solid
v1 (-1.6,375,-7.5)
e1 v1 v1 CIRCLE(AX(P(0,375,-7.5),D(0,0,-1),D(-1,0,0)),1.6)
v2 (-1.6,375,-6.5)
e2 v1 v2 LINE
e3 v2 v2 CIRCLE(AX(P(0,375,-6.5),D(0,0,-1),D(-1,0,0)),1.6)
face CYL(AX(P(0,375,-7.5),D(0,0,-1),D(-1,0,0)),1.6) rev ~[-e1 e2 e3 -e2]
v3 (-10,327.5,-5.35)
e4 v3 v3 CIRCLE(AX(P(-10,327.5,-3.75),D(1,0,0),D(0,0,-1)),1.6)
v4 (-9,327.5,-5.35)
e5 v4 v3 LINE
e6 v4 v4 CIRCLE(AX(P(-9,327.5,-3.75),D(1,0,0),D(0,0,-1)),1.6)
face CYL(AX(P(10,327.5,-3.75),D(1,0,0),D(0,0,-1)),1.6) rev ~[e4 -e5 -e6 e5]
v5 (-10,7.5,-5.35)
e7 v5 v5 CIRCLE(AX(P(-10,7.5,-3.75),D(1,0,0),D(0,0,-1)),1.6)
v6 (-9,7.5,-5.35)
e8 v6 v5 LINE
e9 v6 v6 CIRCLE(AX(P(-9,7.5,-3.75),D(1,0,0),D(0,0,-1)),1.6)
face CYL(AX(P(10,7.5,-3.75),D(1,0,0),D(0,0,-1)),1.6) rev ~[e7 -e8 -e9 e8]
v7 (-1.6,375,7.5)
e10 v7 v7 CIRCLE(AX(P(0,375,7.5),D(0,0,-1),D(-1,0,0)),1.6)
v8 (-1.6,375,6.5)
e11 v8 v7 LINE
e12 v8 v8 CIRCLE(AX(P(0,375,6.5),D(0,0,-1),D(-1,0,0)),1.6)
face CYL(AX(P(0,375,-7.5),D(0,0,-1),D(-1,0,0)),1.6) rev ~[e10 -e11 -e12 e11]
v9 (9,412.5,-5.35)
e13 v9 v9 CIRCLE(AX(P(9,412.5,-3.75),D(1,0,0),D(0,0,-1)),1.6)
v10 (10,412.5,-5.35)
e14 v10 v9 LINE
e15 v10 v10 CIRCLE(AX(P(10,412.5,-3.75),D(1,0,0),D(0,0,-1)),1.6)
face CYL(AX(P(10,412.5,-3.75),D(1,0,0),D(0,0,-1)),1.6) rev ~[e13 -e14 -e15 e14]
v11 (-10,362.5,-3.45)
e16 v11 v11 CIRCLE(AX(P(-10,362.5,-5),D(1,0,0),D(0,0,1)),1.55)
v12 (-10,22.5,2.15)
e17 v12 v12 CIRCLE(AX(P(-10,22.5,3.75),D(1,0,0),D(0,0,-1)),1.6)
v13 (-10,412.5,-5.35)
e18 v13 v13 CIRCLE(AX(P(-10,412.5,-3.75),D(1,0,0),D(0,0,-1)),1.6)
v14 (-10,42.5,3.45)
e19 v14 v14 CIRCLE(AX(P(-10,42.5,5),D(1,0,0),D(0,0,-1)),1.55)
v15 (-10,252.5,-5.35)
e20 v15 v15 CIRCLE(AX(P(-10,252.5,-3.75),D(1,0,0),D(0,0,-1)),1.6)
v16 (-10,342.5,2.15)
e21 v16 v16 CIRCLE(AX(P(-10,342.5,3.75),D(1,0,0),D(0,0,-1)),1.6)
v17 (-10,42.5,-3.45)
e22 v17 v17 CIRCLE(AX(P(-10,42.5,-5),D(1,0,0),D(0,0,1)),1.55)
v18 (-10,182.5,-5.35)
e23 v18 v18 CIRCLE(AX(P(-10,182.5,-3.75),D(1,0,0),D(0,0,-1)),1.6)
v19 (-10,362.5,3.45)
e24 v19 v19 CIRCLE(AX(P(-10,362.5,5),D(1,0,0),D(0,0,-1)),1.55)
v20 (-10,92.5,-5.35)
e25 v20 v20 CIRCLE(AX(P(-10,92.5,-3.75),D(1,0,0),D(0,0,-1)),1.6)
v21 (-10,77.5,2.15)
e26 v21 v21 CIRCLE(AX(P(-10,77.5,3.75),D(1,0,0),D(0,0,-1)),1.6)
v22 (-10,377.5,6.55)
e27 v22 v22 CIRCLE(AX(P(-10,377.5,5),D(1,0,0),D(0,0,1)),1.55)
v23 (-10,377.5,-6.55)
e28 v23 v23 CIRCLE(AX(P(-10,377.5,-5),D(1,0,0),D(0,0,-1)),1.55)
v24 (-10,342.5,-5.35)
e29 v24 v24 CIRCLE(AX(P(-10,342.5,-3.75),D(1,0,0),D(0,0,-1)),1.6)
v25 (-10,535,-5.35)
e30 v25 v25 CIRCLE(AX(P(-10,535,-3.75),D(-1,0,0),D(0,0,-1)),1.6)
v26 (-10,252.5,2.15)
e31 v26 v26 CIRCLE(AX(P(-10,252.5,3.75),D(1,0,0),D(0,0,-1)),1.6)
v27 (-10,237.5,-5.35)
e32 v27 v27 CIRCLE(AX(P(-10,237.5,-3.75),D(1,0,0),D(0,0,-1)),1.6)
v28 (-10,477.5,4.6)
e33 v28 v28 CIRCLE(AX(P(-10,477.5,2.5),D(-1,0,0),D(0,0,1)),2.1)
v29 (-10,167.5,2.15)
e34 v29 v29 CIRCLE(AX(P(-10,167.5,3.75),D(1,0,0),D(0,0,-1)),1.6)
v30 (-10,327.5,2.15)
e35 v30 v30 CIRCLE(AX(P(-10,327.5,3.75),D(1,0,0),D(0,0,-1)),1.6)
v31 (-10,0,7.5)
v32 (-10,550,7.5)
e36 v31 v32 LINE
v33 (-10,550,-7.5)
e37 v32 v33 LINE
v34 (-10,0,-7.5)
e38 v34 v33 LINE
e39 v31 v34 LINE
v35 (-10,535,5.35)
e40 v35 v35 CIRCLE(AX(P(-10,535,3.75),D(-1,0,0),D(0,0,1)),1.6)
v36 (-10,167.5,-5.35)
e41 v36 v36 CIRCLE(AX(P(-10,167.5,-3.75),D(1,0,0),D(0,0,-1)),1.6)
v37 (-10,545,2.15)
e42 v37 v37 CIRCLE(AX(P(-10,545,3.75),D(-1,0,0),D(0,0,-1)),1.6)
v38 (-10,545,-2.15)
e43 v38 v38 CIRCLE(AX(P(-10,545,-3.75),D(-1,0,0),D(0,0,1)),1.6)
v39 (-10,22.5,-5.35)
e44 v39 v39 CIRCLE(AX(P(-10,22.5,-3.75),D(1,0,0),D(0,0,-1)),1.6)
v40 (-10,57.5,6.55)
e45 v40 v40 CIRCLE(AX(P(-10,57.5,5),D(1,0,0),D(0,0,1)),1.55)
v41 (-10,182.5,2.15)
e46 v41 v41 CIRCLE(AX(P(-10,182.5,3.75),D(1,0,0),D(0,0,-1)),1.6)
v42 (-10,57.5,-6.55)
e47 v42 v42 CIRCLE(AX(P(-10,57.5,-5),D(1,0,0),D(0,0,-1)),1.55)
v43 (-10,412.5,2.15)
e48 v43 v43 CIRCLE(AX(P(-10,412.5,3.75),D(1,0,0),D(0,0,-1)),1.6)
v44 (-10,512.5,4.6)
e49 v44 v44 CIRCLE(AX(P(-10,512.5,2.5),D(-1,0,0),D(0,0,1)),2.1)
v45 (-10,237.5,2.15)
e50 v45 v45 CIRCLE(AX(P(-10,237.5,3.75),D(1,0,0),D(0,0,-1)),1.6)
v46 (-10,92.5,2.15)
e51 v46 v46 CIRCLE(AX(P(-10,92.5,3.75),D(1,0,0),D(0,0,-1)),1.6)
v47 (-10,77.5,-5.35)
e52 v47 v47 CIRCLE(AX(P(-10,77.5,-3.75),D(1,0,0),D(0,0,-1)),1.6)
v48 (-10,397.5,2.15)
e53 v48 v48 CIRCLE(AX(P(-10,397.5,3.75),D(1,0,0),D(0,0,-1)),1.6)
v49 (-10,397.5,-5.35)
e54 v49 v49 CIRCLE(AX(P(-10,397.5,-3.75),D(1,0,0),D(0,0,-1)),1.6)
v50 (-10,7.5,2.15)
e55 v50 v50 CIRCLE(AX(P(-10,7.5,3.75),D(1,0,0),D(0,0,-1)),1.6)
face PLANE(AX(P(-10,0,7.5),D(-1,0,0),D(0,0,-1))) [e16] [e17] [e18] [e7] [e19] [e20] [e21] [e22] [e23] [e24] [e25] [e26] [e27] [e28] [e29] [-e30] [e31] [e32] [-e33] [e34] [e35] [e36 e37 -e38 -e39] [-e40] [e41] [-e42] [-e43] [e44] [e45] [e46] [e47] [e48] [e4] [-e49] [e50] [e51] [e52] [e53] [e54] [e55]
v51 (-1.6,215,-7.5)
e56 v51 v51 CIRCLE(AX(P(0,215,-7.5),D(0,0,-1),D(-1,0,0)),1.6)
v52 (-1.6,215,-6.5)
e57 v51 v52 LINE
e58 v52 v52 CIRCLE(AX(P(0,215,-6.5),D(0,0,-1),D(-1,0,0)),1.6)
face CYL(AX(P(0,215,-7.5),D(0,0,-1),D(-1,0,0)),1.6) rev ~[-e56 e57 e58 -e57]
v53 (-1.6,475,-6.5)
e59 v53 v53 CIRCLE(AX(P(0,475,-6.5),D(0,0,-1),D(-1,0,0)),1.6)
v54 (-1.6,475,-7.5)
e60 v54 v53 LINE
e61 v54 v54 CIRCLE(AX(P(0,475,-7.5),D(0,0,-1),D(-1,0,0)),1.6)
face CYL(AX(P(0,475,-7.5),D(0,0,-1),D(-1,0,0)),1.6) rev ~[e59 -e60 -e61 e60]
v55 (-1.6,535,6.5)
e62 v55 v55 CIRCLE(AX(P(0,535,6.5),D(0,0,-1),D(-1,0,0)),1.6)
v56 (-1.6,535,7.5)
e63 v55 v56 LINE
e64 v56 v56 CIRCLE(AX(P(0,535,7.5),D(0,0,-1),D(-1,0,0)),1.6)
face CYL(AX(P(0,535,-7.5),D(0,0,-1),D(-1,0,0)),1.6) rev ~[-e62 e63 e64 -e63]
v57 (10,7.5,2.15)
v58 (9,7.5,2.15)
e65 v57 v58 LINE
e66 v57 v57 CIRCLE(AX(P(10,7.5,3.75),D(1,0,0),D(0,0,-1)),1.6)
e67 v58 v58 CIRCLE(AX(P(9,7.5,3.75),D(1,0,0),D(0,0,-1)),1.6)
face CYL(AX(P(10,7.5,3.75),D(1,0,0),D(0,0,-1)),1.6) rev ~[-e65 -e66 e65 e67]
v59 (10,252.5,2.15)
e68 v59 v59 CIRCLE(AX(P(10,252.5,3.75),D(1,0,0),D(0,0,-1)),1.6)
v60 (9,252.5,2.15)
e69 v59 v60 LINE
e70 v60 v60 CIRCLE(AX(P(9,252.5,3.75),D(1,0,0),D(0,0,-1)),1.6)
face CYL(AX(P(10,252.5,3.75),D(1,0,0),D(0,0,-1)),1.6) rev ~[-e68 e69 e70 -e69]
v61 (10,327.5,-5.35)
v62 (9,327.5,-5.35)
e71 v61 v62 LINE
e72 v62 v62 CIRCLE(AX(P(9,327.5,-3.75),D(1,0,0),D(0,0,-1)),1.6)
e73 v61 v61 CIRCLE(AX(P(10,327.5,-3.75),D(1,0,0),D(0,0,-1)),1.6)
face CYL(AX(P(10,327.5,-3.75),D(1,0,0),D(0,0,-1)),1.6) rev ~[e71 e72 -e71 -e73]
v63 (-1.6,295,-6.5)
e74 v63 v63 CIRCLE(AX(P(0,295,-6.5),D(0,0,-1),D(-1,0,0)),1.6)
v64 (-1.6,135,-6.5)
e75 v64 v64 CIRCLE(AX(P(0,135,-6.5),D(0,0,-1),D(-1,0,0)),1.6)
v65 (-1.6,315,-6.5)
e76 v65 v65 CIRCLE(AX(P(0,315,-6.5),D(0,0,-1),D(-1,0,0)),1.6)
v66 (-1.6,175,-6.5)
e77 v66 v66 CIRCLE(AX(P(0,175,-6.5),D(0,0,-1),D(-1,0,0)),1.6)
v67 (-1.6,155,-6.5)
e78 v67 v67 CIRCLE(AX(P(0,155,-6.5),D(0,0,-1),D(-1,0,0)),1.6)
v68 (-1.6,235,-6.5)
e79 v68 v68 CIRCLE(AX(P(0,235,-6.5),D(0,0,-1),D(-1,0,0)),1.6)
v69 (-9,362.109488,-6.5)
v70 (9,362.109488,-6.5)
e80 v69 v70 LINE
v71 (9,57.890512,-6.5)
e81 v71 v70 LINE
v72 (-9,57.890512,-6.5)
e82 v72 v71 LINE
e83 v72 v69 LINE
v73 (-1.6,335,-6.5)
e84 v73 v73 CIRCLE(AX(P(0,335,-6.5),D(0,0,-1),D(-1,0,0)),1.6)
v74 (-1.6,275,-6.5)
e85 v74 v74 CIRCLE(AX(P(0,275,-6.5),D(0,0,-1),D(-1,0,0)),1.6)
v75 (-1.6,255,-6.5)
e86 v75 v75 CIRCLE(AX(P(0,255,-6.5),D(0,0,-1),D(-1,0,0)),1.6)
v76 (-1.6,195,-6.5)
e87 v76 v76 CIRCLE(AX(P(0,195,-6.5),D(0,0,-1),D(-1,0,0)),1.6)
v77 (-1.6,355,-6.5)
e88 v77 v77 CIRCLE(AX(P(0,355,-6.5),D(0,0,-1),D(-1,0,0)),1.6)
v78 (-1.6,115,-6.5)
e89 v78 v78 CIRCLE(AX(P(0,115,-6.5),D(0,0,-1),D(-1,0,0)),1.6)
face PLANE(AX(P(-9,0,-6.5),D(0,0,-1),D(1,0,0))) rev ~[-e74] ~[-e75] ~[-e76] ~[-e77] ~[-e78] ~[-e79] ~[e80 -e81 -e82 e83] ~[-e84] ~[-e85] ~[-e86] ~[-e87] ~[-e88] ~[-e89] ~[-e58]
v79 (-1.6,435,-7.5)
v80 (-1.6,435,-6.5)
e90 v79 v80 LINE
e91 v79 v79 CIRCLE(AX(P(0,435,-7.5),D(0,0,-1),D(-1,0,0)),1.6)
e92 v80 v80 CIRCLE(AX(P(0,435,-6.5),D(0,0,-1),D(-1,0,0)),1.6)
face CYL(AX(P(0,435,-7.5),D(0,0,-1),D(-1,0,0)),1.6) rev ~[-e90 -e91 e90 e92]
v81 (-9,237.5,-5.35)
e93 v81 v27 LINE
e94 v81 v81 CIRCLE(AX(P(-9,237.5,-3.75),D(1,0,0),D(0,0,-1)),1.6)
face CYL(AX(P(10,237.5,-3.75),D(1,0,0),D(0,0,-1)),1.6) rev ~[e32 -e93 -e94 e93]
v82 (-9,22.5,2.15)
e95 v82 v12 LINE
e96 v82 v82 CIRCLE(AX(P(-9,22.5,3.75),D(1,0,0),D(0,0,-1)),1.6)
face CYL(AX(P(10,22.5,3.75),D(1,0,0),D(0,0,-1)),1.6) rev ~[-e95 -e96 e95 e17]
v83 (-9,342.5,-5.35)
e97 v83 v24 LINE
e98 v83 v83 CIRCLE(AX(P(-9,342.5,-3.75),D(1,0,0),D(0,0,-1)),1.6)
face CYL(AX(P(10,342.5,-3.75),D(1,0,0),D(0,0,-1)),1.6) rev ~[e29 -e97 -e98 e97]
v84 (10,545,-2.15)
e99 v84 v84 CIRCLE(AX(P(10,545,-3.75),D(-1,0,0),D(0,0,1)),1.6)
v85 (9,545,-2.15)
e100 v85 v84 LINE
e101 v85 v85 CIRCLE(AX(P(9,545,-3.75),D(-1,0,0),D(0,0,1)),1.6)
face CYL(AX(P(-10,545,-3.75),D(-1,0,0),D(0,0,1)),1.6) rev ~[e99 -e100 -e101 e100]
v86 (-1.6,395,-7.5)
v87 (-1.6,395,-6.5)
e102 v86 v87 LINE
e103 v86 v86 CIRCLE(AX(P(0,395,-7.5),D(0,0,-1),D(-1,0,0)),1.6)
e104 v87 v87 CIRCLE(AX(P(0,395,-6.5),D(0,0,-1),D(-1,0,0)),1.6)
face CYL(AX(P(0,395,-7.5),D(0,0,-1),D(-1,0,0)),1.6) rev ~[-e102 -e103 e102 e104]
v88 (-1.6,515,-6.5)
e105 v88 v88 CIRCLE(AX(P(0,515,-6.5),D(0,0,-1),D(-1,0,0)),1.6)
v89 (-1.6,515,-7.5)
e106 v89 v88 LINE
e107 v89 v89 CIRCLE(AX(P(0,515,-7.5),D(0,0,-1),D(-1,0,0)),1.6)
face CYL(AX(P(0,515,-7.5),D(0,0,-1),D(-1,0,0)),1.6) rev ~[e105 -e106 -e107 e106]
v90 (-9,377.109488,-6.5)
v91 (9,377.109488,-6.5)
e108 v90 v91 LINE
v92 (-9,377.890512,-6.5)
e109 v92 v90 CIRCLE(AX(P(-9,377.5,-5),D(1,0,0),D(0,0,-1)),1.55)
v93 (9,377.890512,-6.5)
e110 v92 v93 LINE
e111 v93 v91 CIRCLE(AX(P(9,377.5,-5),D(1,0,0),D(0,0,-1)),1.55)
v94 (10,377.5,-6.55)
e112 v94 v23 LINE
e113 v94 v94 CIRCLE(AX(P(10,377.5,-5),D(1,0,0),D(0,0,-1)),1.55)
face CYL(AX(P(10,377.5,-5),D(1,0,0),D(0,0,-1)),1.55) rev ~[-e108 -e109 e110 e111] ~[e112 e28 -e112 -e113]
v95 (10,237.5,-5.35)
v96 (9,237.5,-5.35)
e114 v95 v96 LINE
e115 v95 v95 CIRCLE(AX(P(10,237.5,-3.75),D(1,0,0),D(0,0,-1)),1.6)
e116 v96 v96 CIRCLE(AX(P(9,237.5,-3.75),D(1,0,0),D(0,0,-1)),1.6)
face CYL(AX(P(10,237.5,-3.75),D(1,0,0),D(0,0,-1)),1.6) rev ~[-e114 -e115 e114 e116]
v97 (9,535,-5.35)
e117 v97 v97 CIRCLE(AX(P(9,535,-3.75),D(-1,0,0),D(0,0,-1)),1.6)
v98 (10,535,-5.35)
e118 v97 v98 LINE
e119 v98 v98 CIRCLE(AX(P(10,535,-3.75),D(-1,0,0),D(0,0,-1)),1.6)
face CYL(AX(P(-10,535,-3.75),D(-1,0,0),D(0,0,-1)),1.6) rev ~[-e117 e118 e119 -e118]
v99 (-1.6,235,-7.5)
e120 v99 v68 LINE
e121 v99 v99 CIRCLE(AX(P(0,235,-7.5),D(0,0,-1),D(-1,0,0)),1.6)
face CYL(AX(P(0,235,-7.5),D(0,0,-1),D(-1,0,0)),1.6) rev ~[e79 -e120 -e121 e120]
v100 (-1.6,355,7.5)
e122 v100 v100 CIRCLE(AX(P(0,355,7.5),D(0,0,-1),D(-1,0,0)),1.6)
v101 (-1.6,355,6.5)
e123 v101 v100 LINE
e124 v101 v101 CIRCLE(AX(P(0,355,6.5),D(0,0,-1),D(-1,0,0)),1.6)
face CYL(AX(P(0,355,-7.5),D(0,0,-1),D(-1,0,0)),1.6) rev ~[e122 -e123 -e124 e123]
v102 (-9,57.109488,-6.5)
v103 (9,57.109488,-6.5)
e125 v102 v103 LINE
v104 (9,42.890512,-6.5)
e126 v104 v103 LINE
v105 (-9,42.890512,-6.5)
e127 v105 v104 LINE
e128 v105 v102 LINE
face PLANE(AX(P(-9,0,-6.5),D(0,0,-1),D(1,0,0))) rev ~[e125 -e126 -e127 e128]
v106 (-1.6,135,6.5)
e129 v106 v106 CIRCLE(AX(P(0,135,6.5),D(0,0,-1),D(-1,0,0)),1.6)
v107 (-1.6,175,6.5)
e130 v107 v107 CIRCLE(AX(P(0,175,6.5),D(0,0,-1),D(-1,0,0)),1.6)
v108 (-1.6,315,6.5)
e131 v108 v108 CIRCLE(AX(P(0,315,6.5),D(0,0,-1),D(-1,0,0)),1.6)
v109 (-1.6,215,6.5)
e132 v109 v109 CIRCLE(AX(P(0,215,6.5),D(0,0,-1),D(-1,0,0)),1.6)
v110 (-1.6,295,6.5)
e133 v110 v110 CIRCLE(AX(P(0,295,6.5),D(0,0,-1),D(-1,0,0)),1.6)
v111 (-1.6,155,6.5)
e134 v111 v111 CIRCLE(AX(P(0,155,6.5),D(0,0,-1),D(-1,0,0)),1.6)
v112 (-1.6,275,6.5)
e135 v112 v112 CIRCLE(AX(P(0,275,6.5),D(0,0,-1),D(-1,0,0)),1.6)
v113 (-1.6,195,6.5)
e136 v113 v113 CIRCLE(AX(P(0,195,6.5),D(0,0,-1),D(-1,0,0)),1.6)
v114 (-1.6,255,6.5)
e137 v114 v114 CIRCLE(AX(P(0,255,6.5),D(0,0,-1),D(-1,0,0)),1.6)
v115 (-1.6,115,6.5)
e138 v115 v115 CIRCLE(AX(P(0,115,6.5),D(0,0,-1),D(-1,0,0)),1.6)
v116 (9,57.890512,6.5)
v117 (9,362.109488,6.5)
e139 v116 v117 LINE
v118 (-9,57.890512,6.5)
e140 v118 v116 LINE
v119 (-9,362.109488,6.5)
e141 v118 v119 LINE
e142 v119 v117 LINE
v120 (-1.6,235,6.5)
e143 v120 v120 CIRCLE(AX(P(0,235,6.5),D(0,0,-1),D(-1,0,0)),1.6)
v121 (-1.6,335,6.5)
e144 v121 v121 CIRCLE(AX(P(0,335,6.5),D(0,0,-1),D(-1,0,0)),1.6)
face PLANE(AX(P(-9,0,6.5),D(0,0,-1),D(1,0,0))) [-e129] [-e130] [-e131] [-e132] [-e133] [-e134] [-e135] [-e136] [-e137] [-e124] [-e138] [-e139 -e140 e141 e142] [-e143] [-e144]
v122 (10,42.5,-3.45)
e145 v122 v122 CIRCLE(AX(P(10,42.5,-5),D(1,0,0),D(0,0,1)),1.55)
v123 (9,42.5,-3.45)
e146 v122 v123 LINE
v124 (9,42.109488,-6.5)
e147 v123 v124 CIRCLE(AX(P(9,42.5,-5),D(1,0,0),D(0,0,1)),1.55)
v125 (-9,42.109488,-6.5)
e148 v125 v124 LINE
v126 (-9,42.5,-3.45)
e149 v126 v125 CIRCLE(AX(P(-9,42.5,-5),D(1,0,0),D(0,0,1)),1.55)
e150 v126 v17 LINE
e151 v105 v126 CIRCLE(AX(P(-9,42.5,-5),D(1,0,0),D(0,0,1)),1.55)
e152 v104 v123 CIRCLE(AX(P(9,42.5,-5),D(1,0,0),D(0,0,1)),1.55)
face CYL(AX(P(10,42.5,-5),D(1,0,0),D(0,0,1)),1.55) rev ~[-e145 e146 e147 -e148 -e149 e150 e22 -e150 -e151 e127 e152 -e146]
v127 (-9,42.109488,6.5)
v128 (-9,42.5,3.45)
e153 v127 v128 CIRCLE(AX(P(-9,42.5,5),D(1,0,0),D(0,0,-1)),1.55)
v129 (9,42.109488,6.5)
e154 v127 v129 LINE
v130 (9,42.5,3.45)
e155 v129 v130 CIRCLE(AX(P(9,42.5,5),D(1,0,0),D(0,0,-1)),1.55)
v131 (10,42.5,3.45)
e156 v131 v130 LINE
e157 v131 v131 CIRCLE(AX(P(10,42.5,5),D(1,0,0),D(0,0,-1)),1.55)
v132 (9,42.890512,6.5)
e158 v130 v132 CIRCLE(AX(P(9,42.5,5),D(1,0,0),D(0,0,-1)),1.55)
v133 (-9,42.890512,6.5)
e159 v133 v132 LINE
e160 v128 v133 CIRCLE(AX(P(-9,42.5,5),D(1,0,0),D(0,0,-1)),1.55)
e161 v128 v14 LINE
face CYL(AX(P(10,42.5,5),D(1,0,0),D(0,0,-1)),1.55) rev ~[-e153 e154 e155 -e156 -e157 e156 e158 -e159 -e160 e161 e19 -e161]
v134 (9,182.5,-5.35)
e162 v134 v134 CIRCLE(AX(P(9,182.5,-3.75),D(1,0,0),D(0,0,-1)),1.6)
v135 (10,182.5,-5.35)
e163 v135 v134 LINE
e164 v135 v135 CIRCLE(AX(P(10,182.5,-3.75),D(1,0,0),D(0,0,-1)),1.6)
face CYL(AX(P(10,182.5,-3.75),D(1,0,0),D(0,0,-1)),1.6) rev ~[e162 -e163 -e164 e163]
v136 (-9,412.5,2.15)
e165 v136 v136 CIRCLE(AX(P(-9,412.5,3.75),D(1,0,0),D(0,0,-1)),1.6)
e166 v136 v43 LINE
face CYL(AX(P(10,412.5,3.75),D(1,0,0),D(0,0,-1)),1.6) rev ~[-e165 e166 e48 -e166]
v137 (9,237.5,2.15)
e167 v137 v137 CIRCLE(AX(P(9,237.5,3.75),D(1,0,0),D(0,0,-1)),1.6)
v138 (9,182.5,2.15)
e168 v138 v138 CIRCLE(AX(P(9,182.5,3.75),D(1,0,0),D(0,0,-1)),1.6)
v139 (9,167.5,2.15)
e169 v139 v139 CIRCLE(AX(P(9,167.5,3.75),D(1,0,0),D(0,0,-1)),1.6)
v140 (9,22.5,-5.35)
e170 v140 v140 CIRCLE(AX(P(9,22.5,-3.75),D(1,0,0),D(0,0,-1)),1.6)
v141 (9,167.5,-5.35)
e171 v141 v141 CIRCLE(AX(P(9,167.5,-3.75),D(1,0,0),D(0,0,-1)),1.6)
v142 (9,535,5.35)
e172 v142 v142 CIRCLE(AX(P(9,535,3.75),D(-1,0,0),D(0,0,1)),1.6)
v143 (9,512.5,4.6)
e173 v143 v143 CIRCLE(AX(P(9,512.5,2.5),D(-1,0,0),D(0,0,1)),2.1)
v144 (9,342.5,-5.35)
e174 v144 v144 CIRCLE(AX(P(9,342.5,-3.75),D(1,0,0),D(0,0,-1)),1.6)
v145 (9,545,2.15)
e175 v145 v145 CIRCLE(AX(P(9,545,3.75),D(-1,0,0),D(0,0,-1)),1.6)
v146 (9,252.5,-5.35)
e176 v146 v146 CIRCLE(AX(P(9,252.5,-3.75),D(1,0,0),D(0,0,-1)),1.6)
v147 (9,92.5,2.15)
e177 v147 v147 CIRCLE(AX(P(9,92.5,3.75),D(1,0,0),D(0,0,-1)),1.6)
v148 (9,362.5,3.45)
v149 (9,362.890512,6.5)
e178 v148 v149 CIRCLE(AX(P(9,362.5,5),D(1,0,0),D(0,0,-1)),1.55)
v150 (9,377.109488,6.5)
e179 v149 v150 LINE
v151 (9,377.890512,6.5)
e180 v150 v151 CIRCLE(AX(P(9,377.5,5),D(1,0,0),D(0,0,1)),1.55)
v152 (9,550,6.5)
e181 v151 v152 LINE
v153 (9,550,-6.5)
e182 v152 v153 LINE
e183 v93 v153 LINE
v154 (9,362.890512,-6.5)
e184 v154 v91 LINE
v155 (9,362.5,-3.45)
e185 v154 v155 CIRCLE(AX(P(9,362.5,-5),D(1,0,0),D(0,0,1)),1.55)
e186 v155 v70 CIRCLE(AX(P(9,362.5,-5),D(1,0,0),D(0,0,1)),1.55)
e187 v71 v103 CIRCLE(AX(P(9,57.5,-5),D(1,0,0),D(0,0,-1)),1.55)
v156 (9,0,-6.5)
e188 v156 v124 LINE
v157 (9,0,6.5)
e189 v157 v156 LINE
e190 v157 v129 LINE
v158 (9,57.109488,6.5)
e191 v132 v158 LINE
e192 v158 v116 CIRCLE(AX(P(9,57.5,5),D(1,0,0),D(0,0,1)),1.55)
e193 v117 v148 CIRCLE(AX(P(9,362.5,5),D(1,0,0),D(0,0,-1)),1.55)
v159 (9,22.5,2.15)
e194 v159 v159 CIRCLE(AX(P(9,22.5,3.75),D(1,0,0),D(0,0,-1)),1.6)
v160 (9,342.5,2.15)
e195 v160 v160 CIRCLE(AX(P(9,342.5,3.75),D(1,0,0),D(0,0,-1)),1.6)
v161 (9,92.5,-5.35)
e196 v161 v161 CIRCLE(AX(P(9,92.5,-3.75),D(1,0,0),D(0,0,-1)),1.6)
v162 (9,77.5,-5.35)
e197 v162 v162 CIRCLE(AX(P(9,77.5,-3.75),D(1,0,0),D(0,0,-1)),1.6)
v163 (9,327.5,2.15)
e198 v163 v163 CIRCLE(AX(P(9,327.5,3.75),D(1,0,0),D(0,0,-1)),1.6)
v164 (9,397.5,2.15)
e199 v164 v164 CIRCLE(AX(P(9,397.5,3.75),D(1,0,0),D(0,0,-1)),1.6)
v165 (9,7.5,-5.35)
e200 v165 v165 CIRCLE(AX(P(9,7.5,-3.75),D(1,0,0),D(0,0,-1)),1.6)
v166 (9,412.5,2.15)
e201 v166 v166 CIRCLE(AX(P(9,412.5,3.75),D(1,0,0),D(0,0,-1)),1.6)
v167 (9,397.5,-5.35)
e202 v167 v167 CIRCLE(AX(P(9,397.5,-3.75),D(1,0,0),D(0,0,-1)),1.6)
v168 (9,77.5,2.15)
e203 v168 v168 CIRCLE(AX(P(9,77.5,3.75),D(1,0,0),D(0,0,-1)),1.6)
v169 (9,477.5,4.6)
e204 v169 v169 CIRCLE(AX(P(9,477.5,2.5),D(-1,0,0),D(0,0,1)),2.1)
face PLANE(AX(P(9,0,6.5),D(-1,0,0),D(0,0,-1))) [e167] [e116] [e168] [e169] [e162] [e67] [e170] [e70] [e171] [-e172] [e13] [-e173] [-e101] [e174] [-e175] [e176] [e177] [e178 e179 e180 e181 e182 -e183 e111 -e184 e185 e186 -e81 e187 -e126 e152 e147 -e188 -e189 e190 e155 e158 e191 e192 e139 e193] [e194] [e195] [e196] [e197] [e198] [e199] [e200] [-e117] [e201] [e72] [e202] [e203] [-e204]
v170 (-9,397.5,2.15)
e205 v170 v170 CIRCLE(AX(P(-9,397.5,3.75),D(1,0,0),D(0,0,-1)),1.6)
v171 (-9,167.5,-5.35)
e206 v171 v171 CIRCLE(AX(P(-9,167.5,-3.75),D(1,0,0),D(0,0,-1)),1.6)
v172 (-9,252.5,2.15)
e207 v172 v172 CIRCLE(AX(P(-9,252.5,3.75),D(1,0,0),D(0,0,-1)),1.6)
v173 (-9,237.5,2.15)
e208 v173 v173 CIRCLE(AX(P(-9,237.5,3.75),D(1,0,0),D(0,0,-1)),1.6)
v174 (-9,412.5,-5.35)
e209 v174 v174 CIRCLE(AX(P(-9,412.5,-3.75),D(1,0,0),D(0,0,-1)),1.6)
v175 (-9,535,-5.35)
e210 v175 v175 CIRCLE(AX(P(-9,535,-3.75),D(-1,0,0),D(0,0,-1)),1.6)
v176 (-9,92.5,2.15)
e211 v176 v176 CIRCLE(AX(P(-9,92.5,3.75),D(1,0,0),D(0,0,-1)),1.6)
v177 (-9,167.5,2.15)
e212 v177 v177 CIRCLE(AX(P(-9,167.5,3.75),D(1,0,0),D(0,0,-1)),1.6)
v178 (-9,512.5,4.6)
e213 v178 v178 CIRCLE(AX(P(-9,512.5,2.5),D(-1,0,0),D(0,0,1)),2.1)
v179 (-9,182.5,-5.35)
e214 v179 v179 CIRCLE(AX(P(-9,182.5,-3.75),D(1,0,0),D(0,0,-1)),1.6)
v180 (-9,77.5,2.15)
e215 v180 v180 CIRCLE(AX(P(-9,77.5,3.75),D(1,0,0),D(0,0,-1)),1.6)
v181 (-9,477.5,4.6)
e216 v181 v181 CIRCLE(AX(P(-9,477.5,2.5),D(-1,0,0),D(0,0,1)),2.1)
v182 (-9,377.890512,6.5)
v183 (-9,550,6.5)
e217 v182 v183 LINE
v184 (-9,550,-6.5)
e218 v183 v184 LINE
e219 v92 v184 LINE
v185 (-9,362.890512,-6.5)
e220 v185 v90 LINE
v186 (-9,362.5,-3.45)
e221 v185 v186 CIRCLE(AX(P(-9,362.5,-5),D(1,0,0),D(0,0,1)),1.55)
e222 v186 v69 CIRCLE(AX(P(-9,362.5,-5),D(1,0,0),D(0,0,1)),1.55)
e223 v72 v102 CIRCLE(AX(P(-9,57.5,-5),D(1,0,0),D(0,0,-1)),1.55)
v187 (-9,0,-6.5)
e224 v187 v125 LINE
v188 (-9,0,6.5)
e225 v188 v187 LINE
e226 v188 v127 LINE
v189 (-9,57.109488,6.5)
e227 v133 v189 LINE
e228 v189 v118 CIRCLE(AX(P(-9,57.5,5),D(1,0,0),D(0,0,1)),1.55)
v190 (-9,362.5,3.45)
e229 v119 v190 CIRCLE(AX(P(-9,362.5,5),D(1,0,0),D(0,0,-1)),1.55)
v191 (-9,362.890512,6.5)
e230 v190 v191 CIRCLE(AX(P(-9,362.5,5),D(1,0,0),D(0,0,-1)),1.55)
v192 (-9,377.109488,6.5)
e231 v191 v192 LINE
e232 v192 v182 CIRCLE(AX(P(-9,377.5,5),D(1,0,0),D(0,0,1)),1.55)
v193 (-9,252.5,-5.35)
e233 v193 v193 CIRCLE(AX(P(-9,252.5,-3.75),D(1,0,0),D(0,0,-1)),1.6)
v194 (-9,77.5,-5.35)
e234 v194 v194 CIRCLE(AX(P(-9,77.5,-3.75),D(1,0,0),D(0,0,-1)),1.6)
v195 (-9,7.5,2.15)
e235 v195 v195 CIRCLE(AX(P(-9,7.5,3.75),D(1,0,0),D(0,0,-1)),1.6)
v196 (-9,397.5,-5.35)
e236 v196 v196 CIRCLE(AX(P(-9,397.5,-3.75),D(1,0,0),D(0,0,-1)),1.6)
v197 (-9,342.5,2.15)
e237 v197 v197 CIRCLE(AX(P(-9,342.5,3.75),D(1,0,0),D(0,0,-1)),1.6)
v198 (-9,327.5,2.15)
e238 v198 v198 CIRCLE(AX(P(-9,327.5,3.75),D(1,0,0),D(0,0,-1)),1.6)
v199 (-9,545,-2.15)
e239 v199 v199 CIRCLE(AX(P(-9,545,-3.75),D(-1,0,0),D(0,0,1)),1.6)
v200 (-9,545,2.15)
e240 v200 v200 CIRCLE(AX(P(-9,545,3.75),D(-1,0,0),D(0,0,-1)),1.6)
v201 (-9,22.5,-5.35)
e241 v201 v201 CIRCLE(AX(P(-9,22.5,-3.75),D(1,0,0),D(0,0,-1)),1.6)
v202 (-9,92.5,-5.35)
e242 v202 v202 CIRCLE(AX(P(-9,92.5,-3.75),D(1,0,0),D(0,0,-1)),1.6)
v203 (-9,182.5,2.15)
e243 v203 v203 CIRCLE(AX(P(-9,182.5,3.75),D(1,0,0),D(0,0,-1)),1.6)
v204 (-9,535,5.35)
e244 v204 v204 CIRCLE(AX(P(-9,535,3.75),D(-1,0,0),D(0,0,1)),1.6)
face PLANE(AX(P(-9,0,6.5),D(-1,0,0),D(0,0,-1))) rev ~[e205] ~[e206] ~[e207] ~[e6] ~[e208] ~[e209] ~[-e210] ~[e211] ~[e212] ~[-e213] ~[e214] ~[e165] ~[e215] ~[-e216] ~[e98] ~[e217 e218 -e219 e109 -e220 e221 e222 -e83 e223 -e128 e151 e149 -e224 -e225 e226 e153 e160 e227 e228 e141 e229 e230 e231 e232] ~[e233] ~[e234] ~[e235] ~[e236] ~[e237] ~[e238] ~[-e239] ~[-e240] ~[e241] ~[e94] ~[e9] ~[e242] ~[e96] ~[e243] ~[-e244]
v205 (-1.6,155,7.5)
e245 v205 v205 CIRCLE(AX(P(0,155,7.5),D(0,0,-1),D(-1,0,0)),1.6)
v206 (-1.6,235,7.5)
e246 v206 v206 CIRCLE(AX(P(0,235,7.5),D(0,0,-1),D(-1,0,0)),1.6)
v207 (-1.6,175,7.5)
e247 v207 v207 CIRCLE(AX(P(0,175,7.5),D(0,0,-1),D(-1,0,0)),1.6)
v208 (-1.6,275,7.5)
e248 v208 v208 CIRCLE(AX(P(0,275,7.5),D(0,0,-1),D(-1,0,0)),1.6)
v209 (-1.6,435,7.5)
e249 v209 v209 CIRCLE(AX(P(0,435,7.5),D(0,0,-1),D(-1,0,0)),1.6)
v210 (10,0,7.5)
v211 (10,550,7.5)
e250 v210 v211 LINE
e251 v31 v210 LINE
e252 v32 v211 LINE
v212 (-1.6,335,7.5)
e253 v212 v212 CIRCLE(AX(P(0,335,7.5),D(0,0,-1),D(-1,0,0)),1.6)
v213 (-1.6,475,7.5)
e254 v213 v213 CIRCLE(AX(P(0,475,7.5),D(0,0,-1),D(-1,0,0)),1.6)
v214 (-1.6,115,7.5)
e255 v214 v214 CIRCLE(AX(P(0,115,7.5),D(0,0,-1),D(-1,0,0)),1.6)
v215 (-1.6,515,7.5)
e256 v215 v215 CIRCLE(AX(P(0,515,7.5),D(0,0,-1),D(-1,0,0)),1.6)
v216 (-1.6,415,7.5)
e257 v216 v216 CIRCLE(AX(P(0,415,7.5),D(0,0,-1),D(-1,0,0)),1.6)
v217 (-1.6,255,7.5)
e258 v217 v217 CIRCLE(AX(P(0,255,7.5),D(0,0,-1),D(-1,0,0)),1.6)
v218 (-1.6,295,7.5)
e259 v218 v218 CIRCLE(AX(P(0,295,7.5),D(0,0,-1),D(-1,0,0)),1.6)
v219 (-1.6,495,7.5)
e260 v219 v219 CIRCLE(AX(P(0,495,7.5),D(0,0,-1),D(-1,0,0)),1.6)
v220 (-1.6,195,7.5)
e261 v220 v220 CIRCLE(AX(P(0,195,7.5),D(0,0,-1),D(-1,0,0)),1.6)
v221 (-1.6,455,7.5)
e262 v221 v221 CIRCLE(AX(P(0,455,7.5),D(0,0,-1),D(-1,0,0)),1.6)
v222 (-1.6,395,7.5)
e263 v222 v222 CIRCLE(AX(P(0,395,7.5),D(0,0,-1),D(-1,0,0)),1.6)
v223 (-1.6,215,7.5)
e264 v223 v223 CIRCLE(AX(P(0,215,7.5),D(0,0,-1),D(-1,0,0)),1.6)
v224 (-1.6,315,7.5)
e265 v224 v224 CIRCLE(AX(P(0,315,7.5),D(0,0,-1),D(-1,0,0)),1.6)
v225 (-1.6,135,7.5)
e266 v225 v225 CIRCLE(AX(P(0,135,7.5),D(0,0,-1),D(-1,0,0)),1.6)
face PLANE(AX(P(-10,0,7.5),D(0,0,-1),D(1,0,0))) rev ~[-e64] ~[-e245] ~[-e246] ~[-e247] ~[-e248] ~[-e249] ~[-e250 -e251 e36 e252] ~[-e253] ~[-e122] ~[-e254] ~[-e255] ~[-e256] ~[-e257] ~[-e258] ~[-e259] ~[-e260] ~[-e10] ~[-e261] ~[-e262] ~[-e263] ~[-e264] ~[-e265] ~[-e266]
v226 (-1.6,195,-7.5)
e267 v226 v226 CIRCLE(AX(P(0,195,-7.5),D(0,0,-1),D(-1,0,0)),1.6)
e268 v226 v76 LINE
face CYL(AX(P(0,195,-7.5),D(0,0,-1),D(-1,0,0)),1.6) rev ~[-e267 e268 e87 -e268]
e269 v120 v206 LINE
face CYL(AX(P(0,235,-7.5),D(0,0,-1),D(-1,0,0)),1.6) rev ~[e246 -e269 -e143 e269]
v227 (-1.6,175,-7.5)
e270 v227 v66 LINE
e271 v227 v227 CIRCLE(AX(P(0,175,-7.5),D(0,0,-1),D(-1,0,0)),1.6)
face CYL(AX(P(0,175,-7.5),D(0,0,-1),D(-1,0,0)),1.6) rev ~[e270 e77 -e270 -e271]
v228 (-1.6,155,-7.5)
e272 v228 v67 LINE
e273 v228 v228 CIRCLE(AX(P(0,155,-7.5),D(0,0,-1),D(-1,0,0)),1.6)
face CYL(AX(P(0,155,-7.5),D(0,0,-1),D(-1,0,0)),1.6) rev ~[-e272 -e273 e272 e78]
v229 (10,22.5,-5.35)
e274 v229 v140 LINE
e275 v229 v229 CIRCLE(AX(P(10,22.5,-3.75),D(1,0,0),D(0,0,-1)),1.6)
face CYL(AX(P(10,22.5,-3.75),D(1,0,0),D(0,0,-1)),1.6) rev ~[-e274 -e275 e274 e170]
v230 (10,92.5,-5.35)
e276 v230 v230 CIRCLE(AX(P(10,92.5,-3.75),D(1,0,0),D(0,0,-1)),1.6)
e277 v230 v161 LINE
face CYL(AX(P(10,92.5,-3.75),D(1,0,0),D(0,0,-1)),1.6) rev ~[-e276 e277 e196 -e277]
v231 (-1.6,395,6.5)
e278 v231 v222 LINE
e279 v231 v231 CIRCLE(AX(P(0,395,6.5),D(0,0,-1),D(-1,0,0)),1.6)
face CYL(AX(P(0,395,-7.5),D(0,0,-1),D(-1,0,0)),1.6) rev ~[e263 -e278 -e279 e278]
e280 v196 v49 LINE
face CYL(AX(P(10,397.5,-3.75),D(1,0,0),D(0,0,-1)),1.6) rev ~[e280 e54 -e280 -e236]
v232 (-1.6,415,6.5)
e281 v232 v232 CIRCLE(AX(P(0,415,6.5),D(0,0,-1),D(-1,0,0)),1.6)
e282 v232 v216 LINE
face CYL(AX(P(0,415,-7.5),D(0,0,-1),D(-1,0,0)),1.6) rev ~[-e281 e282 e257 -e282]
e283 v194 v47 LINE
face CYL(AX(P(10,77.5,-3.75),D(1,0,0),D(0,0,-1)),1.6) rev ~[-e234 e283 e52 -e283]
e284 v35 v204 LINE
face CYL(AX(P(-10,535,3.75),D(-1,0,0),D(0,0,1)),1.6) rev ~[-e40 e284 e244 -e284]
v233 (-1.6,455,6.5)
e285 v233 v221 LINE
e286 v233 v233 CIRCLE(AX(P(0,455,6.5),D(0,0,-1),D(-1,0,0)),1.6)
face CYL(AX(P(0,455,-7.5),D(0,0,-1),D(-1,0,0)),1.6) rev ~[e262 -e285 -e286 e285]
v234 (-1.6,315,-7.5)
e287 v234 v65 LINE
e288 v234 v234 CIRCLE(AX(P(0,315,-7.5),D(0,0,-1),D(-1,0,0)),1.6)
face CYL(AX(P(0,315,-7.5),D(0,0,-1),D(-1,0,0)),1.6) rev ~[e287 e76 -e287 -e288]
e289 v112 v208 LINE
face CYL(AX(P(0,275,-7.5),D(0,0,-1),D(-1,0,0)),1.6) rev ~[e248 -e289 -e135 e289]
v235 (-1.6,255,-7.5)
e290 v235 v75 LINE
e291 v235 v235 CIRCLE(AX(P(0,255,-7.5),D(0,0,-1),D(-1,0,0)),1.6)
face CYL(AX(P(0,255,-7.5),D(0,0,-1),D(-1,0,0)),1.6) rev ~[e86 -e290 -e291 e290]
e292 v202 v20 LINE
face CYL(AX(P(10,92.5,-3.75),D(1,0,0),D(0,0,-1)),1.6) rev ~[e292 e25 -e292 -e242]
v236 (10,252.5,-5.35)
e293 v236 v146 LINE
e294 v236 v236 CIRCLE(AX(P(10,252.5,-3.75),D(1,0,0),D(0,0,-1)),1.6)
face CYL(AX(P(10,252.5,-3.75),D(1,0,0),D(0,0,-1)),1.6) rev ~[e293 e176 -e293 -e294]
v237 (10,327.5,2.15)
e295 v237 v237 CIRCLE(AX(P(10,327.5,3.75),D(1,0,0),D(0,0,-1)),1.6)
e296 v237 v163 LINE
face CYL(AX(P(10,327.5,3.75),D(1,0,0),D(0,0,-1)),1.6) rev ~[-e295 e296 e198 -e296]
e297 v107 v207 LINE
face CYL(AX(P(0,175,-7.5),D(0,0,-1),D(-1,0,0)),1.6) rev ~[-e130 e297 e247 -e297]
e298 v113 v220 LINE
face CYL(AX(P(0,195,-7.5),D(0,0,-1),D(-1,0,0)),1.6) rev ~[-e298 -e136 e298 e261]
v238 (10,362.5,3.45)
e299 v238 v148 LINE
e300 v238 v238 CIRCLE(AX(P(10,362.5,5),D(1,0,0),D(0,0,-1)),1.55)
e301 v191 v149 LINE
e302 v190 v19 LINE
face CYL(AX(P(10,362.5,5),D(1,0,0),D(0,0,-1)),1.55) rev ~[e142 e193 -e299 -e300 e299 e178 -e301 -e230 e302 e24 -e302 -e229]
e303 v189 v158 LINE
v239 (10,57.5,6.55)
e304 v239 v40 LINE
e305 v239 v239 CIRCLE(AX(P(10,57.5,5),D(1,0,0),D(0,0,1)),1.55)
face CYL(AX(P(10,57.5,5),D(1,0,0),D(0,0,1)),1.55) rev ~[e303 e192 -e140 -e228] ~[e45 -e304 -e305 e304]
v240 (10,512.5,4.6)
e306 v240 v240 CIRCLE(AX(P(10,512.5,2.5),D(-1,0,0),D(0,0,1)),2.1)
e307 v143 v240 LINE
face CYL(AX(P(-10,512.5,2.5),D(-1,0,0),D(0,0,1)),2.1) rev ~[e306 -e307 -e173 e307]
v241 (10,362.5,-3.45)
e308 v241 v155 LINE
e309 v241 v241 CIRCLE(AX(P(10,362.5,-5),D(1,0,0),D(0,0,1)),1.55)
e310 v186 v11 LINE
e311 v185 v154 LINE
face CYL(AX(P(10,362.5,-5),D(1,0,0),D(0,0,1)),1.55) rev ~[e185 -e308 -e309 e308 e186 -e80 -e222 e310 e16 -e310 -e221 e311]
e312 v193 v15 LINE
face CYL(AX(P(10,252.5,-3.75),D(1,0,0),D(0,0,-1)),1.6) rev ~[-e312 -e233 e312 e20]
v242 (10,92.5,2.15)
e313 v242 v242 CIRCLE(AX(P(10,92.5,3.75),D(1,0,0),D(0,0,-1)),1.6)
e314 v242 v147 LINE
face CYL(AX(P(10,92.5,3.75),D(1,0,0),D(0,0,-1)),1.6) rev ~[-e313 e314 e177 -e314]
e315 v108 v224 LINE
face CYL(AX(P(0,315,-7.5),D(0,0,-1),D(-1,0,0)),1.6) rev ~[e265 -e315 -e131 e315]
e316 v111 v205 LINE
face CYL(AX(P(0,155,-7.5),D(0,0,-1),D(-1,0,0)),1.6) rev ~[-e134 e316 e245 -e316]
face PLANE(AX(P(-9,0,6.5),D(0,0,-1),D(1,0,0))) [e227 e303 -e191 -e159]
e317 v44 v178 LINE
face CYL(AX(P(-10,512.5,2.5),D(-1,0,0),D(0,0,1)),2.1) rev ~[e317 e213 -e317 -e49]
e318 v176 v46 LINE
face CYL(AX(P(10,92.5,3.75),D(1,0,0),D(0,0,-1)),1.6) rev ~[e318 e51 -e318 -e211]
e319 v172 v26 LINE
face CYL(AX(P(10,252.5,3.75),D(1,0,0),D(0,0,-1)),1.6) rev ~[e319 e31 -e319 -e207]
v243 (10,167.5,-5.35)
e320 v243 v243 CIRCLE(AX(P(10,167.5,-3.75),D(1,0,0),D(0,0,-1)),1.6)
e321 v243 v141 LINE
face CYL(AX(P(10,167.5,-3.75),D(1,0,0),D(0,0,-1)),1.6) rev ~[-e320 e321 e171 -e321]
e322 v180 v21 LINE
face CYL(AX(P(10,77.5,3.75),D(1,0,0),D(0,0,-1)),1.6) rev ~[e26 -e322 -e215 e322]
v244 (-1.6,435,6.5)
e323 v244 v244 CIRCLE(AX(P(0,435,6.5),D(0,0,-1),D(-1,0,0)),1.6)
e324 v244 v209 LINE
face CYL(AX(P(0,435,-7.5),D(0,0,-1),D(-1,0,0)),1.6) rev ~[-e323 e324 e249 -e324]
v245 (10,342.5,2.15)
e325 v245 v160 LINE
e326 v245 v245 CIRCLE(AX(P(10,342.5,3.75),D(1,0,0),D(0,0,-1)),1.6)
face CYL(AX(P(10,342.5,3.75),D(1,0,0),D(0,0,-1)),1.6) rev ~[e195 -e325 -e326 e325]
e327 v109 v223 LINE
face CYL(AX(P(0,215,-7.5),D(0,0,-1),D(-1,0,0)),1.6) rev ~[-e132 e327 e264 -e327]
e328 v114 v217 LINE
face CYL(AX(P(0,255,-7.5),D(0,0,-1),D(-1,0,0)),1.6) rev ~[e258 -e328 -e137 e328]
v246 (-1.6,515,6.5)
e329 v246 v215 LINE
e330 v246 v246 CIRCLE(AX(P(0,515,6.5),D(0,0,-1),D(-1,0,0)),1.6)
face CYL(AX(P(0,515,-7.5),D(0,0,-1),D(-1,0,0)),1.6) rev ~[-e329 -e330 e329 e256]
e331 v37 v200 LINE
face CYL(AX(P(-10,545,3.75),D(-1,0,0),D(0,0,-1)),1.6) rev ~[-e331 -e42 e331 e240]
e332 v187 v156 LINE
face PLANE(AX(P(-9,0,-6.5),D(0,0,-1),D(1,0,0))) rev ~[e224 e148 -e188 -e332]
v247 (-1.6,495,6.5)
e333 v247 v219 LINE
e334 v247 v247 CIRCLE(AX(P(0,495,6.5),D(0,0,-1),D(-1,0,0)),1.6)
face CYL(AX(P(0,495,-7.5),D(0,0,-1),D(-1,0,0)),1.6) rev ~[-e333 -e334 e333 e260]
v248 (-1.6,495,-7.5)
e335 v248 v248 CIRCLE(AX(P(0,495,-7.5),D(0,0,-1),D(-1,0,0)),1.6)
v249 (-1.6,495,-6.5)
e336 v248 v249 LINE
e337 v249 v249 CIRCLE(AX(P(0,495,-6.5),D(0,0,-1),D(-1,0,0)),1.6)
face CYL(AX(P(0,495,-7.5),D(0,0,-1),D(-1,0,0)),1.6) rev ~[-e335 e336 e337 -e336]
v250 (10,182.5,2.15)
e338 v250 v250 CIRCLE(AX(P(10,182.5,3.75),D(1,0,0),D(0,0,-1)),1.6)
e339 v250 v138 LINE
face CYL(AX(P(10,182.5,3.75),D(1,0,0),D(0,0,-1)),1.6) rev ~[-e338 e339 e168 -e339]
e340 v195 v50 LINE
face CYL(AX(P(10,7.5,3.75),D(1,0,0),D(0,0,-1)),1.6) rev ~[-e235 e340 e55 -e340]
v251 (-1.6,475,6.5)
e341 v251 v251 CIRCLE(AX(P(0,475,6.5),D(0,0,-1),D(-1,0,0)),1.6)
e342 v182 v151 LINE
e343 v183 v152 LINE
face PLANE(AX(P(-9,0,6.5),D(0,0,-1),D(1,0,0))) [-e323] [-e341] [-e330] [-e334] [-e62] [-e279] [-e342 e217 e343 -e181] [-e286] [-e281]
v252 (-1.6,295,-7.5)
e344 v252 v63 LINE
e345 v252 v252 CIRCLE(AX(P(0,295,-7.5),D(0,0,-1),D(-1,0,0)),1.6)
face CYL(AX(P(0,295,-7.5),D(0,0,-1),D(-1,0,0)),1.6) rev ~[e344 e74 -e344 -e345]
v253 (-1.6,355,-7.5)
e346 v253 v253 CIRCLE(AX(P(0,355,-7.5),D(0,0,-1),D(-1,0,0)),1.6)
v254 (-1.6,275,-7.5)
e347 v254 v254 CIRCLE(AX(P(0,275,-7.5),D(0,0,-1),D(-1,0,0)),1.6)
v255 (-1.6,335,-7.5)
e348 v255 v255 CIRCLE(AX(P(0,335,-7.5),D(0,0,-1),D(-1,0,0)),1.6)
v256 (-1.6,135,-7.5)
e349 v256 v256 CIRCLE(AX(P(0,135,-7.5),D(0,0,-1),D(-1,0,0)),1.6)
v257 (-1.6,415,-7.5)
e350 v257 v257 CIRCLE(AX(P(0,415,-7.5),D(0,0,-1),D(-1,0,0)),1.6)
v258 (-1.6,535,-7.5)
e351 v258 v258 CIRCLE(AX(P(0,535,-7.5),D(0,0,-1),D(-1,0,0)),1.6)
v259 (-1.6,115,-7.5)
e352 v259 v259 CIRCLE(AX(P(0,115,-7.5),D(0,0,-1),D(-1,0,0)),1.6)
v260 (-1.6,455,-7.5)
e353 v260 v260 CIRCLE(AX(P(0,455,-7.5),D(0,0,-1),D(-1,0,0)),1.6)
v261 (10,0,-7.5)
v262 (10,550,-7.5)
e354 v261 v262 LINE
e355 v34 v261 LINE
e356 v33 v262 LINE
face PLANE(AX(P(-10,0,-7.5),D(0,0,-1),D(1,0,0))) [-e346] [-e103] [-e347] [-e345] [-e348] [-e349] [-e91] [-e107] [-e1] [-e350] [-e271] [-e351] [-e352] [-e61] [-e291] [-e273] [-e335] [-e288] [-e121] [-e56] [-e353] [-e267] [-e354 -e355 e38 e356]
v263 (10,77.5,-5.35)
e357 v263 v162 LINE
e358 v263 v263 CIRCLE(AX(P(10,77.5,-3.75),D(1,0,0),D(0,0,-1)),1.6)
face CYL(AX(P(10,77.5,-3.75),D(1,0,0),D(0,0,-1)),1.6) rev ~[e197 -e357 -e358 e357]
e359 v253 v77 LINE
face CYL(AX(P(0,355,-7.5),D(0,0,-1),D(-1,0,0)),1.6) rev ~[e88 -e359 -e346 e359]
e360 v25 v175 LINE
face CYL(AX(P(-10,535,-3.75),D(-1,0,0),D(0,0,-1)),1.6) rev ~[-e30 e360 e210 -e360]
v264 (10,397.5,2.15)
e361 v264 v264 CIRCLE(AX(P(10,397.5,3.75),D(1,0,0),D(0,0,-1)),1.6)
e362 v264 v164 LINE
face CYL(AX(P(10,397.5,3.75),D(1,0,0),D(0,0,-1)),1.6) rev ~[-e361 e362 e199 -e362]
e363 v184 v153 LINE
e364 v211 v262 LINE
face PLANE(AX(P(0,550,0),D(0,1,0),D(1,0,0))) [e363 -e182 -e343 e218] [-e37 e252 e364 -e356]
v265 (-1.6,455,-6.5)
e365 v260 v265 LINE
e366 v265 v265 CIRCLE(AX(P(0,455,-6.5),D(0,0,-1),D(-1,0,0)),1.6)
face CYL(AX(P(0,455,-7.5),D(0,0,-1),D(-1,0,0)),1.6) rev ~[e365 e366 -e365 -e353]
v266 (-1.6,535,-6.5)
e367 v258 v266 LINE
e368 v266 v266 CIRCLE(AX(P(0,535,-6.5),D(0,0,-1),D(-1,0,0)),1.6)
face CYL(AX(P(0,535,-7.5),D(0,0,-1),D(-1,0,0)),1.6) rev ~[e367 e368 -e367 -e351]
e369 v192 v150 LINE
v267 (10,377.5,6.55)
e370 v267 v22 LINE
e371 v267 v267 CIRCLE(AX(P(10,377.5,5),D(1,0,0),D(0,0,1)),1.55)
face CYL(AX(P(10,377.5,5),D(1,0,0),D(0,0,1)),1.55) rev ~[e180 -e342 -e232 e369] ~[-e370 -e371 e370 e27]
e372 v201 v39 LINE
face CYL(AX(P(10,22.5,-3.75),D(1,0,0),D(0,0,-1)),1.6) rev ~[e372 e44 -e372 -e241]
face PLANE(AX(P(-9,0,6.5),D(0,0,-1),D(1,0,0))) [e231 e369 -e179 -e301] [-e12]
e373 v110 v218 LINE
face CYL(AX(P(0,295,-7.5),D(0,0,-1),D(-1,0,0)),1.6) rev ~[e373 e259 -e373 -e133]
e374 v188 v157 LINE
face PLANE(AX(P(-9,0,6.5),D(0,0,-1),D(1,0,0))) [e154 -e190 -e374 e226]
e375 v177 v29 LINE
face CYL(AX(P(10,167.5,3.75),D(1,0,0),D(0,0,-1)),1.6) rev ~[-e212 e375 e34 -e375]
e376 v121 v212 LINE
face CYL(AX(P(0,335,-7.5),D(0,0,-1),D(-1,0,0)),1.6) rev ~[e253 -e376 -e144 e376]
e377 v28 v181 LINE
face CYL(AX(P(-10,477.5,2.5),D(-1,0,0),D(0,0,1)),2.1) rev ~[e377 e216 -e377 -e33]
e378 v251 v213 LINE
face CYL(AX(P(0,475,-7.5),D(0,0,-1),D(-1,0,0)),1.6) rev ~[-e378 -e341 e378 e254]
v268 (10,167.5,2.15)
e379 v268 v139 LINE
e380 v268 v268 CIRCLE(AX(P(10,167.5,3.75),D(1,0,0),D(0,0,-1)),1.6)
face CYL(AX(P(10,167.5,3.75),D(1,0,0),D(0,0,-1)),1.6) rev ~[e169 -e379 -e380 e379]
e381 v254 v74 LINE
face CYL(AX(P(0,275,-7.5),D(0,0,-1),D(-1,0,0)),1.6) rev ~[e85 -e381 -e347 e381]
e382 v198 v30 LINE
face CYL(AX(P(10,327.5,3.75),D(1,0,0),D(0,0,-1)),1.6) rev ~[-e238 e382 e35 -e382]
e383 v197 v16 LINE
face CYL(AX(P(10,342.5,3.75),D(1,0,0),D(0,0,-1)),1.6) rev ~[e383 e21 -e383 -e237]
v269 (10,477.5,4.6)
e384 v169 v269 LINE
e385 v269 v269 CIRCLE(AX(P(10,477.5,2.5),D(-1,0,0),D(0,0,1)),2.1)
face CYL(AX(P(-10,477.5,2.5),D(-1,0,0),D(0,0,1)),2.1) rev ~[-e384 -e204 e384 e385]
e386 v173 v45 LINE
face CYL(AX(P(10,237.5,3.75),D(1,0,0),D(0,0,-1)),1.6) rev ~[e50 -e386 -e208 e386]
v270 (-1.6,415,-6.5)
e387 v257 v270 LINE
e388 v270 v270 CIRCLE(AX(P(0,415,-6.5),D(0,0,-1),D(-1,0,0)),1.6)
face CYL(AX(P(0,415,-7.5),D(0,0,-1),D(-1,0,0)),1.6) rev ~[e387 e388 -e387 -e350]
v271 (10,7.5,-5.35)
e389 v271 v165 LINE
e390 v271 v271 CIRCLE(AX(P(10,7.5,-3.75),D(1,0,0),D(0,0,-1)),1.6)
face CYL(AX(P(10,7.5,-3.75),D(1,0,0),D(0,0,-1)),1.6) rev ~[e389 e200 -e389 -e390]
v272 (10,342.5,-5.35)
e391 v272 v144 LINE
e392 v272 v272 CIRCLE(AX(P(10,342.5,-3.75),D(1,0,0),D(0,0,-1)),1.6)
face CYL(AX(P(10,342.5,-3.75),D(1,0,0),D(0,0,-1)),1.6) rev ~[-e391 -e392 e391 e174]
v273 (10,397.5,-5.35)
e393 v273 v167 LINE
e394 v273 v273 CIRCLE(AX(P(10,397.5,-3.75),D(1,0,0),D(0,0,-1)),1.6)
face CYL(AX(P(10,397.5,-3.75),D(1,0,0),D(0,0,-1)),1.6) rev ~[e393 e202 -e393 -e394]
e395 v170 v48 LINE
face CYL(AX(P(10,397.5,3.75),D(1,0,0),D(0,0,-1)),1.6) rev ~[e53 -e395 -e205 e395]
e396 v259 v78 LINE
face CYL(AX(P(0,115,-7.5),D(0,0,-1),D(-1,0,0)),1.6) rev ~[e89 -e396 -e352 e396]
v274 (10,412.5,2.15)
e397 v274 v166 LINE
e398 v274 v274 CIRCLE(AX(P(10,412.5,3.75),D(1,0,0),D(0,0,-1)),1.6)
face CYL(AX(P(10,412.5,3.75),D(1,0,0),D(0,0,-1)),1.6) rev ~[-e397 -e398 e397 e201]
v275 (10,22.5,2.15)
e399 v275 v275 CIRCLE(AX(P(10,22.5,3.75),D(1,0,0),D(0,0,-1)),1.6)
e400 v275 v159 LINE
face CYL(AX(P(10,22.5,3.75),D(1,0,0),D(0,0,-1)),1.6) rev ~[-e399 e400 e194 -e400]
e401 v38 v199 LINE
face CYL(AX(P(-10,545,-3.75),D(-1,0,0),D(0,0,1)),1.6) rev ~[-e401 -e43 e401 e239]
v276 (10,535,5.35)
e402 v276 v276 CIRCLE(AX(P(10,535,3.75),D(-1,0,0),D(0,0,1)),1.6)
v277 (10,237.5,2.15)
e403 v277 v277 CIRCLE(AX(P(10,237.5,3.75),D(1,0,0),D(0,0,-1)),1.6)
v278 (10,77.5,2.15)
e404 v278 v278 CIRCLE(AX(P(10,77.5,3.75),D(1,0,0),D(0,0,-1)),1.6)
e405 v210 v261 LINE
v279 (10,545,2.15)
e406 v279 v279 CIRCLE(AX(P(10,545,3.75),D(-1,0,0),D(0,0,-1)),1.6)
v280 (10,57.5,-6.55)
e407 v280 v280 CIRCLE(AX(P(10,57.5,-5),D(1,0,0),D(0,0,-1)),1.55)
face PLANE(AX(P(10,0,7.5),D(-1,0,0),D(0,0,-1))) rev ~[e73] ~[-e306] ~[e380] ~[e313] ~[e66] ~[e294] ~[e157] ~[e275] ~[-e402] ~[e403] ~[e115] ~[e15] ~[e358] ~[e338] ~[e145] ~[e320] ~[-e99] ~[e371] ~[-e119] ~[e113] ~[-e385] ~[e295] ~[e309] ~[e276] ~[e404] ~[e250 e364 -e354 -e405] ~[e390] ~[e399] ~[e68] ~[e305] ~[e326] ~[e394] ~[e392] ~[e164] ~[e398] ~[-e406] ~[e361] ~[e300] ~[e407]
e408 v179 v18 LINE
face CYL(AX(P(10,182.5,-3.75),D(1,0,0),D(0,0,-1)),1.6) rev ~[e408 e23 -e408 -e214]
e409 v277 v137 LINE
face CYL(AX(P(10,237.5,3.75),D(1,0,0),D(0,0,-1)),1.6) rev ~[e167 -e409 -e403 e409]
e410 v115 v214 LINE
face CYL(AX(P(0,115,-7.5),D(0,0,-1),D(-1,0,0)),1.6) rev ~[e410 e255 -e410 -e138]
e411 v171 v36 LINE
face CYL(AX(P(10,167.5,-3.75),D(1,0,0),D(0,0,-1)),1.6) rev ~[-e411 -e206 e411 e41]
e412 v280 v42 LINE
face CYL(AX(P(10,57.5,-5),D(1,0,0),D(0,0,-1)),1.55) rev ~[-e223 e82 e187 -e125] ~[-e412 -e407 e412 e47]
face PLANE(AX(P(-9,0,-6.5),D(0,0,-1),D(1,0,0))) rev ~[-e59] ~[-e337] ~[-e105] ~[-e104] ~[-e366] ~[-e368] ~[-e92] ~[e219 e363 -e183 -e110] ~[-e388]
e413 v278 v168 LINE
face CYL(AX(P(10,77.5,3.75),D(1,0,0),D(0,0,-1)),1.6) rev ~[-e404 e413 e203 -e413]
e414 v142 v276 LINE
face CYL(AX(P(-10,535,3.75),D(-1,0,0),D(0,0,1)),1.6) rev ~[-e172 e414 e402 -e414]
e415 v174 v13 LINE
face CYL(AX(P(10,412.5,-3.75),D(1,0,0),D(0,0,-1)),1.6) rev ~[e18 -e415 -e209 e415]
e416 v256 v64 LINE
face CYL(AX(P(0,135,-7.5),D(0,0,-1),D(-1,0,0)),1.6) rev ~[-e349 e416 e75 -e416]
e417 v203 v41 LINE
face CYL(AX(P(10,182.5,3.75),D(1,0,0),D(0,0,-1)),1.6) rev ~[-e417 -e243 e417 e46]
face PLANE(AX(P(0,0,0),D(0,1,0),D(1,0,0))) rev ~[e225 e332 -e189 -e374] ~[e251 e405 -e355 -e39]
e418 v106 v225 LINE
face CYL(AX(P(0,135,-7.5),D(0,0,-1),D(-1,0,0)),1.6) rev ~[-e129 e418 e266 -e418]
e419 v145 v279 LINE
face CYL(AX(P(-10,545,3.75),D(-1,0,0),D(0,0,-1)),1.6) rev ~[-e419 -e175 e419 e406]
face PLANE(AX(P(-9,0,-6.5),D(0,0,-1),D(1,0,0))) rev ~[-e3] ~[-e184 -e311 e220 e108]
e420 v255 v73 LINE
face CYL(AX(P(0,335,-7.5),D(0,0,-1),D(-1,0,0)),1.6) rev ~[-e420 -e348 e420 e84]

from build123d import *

# Parameters (mm, degrees)
SKETCH_1_W          = 20
SKETCH_1_H          = 15
SKETCH_1_W_2        = 18
SKETCH_1_H_2        = 13
EXTRUDE_1_DEPTH     = 550
SKETCH_4_R          = 1.6
CUT_EXTRUDE_1_DEPTH = 551.414616448
SKETCH_5_R          = 2.1
CUT_EXTRUDE_2_DEPTH = 551.414616448
SKETCH_6_R          = 1.6
CUT_EXTRUDE_3_DEPTH = 551.414616448
SKETCH_7_R          = 1.6
CUT_EXTRUDE_4_DEPTH = 551.29537523
SKETCH_8_R          = 1.55
CUT_EXTRUDE_5_DEPTH = 551.414616448


with BuildPart() as part:
    # 草图1 → 拉伸-薄壁1 (new body)
    with BuildSketch(Plane(origin=(0, 0, 0), x_dir=(1, 0, 0), z_dir=(0, 1, 0))):
        Rectangle(SKETCH_1_W, SKETCH_1_H)
        Rectangle(SKETCH_1_W_2, SKETCH_1_H_2, mode=Mode.SUBTRACT)
    extrude(amount=EXTRUDE_1_DEPTH)

    # 草图4 → 切除-拉伸1 (cut, through all)
    with BuildSketch(Plane.ZY.offset(10)):
        with Locations((-3.75, 545)):
            Circle(SKETCH_4_R)
        with Locations(Location((-3.75, 535, 0), (0, 0, 180))):
            Circle(SKETCH_4_R)
        with Locations((3.75, 535)):
            Circle(SKETCH_4_R)
        with Locations(Location((3.75, 545, 0), (0, 0, 180))):
            Circle(SKETCH_4_R)
    extrude(amount=-CUT_EXTRUDE_1_DEPTH, mode=Mode.SUBTRACT)

    # 草图5 → 切除-拉伸2 (cut, through all)
    with BuildSketch(Plane.ZY.offset(10)):
        with Locations((2.5, 512.5)):
            Circle(SKETCH_5_R)
        with Locations((2.5, 477.5)):
            Circle(SKETCH_5_R)
    extrude(amount=-CUT_EXTRUDE_2_DEPTH, mode=Mode.SUBTRACT)

    # 草图6 → 切除-拉伸3 (cut, through all)
    with BuildSketch(Plane(origin=(10, 0, 0), x_dir=(0, 0, -1), z_dir=(1, 0, 0))):
        with Locations((-3.75, 7.5)):
            Circle(SKETCH_6_R)
        with Locations((-3.75, 22.5)):
            Circle(SKETCH_6_R)
        with Locations((3.75, 7.5)):
            Circle(SKETCH_6_R)
        with Locations((3.75, 22.5)):
            Circle(SKETCH_6_R)
        with Locations((-3.75, 92.5)):
            Circle(SKETCH_6_R)
        with Locations((3.75, 92.5)):
            Circle(SKETCH_6_R)
        with Locations((3.75, 77.5)):
            Circle(SKETCH_6_R)
        with Locations((-3.75, 77.5)):
            Circle(SKETCH_6_R)
        with Locations((-3.75, 167.5)):
            Circle(SKETCH_6_R)
        with Locations((-3.75, 182.5)):
            Circle(SKETCH_6_R)
        with Locations((3.75, 167.5)):
            Circle(SKETCH_6_R)
        with Locations((3.75, 182.5)):
            Circle(SKETCH_6_R)
        with Locations((-3.75, 252.5)):
            Circle(SKETCH_6_R)
        with Locations((3.75, 252.5)):
            Circle(SKETCH_6_R)
        with Locations((3.75, 237.5)):
            Circle(SKETCH_6_R)
        with Locations((-3.75, 237.5)):
            Circle(SKETCH_6_R)
        with Locations((-3.75, 327.5)):
            Circle(SKETCH_6_R)
        with Locations((-3.75, 342.5)):
            Circle(SKETCH_6_R)
        with Locations((3.75, 327.5)):
            Circle(SKETCH_6_R)
        with Locations((3.75, 342.5)):
            Circle(SKETCH_6_R)
        with Locations((-3.75, 412.5)):
            Circle(SKETCH_6_R)
        with Locations((3.75, 412.5)):
            Circle(SKETCH_6_R)
        with Locations((3.75, 397.5)):
            Circle(SKETCH_6_R)
        with Locations((-3.75, 397.5)):
            Circle(SKETCH_6_R)
    extrude(amount=-CUT_EXTRUDE_3_DEPTH, mode=Mode.SUBTRACT)

    # 草图7 → 切除-拉伸4 (cut, through all)
    with BuildSketch(Plane(origin=(0, 0, -7.5), x_dir=(-1, 0, 0), z_dir=(0, 0, -1))):
        with Locations((0, 115)):
            Circle(SKETCH_7_R)
        with Locations((0, 135)):
            Circle(SKETCH_7_R)
        with Locations((0, 155)):
            Circle(SKETCH_7_R)
        with Locations((0, 175)):
            Circle(SKETCH_7_R)
        with Locations((0, 195)):
            Circle(SKETCH_7_R)
        with Locations((0, 215)):
            Circle(SKETCH_7_R)
        with Locations((0, 235)):
            Circle(SKETCH_7_R)
        with Locations((0, 255)):
            Circle(SKETCH_7_R)
        with Locations((0, 275)):
            Circle(SKETCH_7_R)
        with Locations((0, 295)):
            Circle(SKETCH_7_R)
        with Locations((0, 315)):
            Circle(SKETCH_7_R)
        with Locations((0, 335)):
            Circle(SKETCH_7_R)
        with Locations((0, 355)):
            Circle(SKETCH_7_R)
        with Locations((0, 375)):
            Circle(SKETCH_7_R)
        with Locations((0, 395)):
            Circle(SKETCH_7_R)
        with Locations((0, 415)):
            Circle(SKETCH_7_R)
        with Locations((0, 435)):
            Circle(SKETCH_7_R)
        with Locations((0, 455)):
            Circle(SKETCH_7_R)
        with Locations((0, 475)):
            Circle(SKETCH_7_R)
        with Locations((0, 495)):
            Circle(SKETCH_7_R)
        with Locations((0, 515)):
            Circle(SKETCH_7_R)
        with Locations((0, 535)):
            Circle(SKETCH_7_R)
    extrude(amount=-CUT_EXTRUDE_4_DEPTH, mode=Mode.SUBTRACT)

    # 草图8 → 切除-拉伸5 (cut, through all)
    with BuildSketch(Plane(origin=(10, 0, 0), x_dir=(0, 0, -1), z_dir=(1, 0, 0))):
        with Locations((5, 377.5)):
            Circle(SKETCH_8_R)
        with Locations(Location((-5, 377.5, 0), (0, 0, 180))):
            Circle(SKETCH_8_R)
        with Locations(Location((5, 362.5, 0), (0, 0, 180))):
            Circle(SKETCH_8_R)
        with Locations((-5, 362.5)):
            Circle(SKETCH_8_R)
        with Locations((5, 57.5)):
            Circle(SKETCH_8_R)
        with Locations(Location((-5, 57.5, 0), (0, 0, 180))):
            Circle(SKETCH_8_R)
        with Locations(Location((5, 42.5, 0), (0, 0, 180))):
            Circle(SKETCH_8_R)
        with Locations((-5, 42.5)):
            Circle(SKETCH_8_R)
    extrude(amount=-CUT_EXTRUDE_5_DEPTH, mode=Mode.SUBTRACT)


solid = part.part
